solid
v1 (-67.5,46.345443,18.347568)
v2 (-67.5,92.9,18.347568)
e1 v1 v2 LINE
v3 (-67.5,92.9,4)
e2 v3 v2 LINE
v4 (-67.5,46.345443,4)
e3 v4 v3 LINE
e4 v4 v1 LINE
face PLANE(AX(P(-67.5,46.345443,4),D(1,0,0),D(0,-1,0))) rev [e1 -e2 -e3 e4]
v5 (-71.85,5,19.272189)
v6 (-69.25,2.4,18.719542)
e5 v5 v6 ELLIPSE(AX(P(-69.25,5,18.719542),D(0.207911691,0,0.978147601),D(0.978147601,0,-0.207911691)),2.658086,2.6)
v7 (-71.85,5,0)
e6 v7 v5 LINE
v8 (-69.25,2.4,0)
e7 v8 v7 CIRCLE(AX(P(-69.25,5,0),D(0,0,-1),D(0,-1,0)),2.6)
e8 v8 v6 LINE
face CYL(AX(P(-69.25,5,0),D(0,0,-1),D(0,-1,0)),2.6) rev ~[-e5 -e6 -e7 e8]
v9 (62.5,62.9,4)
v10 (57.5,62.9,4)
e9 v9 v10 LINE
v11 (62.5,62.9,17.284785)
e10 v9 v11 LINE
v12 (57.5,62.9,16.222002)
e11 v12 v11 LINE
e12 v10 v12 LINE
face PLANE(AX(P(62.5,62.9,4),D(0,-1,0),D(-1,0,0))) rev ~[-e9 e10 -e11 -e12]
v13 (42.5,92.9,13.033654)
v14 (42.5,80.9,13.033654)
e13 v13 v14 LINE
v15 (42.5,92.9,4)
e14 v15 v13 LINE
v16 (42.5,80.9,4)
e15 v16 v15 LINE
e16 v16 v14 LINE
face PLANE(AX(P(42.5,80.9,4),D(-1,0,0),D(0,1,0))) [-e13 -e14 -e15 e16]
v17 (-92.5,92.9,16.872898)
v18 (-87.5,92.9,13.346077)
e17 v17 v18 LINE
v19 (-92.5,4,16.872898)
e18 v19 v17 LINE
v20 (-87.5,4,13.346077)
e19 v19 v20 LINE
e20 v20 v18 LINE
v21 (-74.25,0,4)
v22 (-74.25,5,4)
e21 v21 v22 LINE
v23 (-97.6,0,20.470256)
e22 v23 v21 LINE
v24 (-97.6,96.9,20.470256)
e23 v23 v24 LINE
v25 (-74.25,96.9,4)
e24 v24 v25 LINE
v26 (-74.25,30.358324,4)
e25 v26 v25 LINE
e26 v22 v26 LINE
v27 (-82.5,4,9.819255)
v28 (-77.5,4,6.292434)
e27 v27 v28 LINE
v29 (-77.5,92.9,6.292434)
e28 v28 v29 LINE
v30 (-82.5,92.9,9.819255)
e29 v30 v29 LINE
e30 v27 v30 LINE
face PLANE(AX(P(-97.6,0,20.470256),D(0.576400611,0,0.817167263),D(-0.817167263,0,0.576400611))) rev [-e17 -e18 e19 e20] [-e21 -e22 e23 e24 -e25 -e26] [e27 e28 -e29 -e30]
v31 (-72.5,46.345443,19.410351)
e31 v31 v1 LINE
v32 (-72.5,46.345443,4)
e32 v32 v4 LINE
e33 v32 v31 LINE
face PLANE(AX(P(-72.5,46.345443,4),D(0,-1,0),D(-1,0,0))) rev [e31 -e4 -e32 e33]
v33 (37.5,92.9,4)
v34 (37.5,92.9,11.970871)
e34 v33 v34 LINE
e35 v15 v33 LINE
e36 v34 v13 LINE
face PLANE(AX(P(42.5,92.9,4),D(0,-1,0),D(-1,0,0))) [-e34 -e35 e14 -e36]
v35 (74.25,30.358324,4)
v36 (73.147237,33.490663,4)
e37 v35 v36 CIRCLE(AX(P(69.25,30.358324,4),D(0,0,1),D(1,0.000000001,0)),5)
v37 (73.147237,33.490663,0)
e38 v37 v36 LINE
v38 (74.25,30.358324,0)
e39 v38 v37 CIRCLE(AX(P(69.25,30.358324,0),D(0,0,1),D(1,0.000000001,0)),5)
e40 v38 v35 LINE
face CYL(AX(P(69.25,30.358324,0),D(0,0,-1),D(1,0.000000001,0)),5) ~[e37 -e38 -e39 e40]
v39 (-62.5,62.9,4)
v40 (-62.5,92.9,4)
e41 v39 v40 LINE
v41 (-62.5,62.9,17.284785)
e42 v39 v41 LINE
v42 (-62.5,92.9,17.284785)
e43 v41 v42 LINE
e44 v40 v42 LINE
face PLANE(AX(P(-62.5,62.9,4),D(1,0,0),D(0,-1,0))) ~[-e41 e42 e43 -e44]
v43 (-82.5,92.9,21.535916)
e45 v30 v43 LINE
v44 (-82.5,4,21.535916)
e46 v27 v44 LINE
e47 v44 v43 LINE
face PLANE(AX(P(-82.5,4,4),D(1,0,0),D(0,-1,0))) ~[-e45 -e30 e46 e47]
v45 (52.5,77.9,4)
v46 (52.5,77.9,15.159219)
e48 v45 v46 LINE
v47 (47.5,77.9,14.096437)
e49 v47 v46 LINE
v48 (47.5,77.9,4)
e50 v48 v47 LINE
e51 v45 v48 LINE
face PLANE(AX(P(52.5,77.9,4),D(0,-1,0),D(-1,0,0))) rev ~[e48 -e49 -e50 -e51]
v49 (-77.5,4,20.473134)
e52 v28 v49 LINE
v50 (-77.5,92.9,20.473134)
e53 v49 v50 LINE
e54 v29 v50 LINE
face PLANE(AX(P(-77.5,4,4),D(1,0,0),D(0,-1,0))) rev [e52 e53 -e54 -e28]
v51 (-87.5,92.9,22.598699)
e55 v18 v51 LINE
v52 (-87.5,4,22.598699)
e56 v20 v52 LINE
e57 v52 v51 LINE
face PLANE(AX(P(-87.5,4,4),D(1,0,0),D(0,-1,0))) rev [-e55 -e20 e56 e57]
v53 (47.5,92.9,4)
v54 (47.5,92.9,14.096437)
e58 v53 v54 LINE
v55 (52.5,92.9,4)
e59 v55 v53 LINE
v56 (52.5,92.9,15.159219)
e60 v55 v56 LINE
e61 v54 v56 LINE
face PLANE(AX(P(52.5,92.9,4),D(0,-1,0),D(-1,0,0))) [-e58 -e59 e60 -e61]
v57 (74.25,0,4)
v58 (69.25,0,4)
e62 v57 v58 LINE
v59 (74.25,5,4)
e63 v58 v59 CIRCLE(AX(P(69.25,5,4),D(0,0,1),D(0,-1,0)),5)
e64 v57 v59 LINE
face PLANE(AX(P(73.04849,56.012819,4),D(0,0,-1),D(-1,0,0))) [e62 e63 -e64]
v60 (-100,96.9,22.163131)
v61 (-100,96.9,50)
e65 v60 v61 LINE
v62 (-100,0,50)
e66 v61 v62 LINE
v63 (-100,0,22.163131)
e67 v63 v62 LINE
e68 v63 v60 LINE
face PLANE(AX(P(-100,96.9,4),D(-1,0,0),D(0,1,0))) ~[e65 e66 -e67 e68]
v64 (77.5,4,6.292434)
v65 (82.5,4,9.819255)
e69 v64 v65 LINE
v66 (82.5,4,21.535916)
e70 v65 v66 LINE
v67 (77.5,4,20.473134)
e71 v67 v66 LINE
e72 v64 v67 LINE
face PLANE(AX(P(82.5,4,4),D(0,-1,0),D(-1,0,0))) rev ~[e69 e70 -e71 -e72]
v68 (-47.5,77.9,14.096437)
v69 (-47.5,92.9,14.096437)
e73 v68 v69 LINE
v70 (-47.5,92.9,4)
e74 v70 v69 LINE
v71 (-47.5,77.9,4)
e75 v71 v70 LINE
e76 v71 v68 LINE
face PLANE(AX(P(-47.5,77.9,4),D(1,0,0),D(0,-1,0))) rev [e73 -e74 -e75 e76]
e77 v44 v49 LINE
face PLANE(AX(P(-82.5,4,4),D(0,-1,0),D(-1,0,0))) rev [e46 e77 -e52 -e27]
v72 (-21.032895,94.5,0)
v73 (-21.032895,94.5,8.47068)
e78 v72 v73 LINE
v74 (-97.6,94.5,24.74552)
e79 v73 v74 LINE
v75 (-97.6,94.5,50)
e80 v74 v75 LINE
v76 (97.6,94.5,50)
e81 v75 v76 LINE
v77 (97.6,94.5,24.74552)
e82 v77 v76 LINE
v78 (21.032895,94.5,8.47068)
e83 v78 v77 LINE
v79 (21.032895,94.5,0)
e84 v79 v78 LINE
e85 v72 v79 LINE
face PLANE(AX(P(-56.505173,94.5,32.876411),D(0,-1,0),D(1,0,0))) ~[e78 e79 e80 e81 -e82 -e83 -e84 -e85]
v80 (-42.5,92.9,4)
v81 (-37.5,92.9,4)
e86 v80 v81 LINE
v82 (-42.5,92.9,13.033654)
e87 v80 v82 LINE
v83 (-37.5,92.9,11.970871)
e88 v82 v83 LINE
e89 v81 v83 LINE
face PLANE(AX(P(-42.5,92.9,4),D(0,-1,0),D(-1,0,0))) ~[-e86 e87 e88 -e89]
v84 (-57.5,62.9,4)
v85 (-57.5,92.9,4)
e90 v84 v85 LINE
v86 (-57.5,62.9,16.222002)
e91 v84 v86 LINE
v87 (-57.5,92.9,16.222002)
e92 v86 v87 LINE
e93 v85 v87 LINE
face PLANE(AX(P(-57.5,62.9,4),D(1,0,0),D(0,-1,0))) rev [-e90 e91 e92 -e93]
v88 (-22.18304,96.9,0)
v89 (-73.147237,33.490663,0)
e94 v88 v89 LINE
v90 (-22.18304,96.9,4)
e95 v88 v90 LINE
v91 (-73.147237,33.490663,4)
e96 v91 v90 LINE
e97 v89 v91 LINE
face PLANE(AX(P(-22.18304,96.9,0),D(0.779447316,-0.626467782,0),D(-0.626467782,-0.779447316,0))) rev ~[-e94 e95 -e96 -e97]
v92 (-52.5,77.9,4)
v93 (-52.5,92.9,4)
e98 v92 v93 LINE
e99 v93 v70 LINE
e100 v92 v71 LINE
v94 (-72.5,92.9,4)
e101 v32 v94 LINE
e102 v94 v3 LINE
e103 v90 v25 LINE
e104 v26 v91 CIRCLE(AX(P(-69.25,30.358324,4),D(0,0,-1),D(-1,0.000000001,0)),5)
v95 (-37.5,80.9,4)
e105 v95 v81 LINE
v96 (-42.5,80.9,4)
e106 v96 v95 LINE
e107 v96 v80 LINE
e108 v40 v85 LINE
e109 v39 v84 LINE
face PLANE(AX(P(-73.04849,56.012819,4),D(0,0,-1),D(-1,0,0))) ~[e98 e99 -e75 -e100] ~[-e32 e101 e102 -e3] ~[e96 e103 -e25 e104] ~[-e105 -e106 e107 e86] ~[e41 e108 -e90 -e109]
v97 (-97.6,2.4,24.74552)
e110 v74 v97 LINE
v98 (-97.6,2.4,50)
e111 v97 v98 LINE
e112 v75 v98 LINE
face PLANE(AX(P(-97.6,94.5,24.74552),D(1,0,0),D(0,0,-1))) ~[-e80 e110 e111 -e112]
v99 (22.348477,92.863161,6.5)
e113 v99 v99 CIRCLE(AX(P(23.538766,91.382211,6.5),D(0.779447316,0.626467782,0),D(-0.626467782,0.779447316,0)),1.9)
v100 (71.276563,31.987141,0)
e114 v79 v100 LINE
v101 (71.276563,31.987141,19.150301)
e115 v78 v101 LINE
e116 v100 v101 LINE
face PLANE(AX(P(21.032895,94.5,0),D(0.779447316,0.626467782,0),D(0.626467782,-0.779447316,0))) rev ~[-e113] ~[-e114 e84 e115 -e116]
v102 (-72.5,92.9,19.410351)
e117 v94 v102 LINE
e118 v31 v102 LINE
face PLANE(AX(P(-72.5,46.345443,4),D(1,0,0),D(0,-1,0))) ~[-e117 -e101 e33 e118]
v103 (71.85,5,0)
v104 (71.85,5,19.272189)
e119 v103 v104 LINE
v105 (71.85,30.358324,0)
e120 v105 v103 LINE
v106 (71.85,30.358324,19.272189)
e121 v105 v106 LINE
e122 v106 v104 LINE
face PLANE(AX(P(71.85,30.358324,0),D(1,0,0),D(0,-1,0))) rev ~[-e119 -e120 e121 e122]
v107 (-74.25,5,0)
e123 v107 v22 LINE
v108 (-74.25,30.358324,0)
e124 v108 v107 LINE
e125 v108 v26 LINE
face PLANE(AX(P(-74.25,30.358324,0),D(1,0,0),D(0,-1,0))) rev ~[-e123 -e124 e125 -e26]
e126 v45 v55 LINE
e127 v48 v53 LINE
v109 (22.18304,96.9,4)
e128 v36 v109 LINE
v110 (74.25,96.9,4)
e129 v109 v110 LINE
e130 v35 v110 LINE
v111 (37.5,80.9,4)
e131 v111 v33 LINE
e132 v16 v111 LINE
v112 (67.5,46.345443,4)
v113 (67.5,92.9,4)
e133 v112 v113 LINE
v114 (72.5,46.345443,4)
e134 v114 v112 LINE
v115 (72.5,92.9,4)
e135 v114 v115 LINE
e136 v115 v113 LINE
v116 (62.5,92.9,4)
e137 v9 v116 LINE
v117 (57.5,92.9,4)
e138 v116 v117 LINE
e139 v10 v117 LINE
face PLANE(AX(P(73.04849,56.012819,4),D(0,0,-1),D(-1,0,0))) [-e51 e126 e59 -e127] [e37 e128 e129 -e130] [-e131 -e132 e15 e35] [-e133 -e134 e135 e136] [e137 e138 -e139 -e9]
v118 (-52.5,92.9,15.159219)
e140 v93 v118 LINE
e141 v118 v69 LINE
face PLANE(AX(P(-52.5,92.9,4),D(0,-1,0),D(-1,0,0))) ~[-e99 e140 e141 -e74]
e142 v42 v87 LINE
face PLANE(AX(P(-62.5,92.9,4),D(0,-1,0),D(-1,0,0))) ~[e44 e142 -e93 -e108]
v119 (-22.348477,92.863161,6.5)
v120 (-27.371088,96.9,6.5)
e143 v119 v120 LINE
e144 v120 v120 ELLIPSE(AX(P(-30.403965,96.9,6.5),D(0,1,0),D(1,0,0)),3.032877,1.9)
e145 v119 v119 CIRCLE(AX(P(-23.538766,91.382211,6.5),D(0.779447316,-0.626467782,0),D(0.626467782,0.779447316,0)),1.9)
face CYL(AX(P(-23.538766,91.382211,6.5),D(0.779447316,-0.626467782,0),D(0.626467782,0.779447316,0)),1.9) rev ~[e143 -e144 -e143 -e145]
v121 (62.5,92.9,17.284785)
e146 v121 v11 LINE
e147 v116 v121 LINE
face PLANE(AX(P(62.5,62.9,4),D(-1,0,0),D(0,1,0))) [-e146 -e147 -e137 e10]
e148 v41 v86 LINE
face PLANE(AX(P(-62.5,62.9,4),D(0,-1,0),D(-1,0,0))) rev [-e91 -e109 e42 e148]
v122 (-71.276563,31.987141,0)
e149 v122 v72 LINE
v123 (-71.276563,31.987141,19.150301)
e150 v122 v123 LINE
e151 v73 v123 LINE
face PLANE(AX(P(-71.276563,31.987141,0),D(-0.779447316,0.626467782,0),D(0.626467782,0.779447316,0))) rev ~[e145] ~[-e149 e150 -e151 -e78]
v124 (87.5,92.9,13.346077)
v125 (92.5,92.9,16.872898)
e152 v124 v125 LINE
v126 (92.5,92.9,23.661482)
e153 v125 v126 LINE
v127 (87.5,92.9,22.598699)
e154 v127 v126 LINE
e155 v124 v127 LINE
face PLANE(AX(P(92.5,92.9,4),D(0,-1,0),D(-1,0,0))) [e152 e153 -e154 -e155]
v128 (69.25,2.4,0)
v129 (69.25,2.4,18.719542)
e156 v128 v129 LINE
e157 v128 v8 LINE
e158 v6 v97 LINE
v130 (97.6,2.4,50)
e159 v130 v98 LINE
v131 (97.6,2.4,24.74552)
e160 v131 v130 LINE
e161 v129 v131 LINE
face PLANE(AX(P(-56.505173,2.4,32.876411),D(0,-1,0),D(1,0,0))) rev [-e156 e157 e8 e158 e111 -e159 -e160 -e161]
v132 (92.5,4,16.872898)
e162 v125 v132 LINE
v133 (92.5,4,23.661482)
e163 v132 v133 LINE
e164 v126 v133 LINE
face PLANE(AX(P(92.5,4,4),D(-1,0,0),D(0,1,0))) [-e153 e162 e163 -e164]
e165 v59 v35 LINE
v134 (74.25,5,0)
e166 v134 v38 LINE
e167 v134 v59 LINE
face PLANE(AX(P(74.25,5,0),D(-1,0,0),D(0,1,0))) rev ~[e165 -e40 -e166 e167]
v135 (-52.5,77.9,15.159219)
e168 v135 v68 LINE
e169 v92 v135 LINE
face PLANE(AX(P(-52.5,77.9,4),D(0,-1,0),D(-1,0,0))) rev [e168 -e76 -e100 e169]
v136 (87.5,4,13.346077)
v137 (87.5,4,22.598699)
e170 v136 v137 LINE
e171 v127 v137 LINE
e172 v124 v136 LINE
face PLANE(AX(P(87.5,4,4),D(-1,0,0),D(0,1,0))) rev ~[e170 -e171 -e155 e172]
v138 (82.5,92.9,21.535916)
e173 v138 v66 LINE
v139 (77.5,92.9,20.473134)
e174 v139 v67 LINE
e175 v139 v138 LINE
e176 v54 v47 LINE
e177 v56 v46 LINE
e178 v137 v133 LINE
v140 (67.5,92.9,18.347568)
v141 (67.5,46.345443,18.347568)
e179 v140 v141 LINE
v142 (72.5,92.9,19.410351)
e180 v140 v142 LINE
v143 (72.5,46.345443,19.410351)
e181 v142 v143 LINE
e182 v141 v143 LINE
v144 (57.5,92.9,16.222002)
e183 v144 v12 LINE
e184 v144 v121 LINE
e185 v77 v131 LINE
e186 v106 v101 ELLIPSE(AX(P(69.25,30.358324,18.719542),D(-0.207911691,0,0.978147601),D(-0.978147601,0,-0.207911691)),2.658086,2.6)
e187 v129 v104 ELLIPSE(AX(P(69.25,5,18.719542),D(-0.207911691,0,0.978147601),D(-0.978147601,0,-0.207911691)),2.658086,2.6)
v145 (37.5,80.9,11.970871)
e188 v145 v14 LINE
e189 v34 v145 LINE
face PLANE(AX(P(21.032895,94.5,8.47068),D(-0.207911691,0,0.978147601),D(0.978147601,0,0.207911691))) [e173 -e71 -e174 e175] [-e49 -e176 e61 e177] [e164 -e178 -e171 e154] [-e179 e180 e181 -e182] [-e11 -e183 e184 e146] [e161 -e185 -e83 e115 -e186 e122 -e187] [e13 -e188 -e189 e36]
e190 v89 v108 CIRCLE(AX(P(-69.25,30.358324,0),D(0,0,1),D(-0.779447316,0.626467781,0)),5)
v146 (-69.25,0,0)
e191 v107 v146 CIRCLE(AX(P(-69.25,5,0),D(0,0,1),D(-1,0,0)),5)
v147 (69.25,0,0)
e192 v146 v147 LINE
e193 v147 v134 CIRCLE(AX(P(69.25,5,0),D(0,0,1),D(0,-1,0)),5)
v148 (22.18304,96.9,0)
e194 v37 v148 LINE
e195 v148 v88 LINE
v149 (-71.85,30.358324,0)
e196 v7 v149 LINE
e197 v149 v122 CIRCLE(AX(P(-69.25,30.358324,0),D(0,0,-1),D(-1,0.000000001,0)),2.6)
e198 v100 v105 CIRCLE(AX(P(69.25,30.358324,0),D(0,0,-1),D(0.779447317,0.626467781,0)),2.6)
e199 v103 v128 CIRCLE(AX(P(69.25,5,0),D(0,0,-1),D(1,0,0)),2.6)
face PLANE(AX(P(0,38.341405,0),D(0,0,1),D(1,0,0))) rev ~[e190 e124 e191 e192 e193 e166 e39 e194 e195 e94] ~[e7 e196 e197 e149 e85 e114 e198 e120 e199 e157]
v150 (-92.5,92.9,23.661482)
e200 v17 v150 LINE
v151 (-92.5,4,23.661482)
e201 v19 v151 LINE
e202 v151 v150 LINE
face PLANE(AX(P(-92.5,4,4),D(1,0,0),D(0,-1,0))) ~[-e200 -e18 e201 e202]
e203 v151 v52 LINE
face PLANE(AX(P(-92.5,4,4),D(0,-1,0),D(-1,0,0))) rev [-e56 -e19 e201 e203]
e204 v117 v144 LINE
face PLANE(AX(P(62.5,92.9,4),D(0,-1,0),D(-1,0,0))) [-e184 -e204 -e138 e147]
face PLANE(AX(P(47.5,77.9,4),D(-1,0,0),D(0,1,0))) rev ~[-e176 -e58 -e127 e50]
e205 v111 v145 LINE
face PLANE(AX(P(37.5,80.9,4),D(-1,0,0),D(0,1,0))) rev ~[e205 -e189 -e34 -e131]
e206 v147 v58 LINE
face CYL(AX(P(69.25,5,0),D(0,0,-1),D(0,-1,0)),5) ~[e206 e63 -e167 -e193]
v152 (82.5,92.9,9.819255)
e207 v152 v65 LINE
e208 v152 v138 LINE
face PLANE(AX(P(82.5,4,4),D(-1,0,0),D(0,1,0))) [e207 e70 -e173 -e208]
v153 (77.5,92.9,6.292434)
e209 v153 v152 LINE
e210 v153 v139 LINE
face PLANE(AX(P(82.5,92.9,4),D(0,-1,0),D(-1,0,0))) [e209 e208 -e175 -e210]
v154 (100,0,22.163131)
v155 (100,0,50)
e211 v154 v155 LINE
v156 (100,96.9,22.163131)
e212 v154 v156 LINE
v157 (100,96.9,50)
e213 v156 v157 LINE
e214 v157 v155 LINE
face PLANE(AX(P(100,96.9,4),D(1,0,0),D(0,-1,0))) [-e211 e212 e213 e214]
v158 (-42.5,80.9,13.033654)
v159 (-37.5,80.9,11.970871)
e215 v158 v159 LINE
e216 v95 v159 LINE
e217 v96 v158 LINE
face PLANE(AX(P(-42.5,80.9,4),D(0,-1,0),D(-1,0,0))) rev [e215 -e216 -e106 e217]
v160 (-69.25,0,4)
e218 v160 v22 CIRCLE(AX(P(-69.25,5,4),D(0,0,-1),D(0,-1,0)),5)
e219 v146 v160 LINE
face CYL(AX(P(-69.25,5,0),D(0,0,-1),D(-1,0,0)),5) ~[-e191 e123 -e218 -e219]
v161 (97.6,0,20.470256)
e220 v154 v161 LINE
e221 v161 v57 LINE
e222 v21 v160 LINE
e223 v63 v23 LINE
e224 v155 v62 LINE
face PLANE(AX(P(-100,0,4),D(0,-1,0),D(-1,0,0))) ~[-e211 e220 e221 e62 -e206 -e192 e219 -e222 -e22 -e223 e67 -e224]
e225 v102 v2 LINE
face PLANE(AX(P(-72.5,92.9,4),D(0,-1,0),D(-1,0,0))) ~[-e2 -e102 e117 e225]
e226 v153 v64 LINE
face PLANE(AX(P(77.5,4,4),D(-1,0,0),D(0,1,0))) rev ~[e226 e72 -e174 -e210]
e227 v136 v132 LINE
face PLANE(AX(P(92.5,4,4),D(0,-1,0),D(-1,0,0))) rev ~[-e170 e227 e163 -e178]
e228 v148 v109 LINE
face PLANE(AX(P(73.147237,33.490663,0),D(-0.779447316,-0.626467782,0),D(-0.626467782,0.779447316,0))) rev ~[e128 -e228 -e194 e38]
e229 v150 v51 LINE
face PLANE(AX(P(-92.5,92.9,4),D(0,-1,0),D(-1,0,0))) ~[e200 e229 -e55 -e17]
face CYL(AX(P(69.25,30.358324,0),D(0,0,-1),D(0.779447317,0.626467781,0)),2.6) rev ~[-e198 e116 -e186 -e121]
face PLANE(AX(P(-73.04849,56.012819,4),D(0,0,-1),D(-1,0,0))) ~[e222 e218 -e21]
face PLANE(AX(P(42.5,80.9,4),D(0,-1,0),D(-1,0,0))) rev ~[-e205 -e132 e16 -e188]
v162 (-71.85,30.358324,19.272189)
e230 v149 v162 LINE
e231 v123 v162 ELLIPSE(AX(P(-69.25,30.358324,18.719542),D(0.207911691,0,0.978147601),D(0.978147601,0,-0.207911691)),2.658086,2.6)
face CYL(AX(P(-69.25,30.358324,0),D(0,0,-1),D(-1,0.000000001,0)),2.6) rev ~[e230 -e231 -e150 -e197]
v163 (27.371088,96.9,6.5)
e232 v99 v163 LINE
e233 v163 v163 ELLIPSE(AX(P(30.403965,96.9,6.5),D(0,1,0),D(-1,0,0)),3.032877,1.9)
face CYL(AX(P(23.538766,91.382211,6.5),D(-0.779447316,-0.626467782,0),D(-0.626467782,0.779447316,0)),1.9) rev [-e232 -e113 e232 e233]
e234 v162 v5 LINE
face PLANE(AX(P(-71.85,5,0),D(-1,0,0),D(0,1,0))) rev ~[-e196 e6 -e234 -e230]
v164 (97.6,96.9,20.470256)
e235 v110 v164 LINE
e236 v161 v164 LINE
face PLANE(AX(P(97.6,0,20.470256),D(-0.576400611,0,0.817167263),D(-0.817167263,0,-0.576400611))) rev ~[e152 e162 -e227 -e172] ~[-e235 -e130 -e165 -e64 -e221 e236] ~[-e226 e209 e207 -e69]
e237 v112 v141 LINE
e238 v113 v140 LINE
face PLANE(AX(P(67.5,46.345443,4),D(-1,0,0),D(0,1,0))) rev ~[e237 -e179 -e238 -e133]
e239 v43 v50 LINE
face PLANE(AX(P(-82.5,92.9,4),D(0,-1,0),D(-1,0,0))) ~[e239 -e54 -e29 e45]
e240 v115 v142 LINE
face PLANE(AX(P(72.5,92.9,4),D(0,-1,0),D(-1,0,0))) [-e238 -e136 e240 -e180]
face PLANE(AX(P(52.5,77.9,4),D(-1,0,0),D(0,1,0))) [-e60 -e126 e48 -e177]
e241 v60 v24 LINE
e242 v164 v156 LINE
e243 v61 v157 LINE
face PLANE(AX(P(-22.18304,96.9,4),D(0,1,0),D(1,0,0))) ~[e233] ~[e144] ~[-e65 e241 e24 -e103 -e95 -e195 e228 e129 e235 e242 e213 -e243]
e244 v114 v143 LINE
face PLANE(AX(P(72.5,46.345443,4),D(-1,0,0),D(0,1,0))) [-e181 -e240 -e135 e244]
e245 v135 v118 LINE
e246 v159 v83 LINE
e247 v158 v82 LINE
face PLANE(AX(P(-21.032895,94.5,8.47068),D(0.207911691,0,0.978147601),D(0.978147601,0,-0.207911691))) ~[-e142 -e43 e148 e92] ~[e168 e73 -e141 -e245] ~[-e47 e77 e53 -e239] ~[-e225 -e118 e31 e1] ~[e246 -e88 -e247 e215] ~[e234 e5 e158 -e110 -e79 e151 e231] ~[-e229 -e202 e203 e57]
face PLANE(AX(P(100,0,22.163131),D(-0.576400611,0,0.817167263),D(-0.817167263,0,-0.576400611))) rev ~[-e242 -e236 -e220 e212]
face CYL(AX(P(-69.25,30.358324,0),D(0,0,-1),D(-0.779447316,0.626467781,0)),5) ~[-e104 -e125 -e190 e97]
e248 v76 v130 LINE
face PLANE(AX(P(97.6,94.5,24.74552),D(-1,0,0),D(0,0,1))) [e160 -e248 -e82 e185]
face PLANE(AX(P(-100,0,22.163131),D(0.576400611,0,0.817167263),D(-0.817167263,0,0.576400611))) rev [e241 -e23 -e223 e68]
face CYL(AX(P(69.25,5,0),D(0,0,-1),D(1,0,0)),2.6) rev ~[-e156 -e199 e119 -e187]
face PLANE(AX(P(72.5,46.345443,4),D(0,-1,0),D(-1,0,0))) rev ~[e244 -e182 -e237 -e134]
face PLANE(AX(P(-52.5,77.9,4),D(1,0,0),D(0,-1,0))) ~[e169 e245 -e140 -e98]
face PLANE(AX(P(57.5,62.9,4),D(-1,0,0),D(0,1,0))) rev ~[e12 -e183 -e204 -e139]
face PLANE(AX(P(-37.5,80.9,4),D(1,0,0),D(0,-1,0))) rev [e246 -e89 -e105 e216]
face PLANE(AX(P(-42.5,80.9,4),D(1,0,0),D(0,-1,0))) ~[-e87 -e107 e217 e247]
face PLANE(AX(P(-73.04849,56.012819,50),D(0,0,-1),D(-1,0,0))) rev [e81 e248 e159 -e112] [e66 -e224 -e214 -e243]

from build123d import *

# Parameters (mm, degrees)
EXTRUDE_1_DEPTH      = 50
EXTRUDE_START        = -4
EXTRUDE_2_DEPTH      = 46
CUT_EXTRUDE_1_DEPTH  = 92.1
CUT_EXTRUDE_START    = 94.5
CUT_EXTRUDE_2_DEPTH  = 241.890744243
SKETCH_17_W          = 5
SKETCH_17_H          = 88.9
SKETCH_17_H_2        = 46.554557274
SKETCH_17_H_3        = 30
SKETCH_17_H_4        = 15
SKETCH_17_H_5        = 12
CUT_EXTRUDE_5_DEPTH  = 30
SKETCH_37_R          = 1.9
CUT_EXTRUDE_13_DEPTH = 174.81246936


with BuildPart() as part:
    # 草图1 → 凸台-拉伸1 (new body)
    with BuildSketch(Plane.XY):
        with BuildLine():
            Line((-22.183039724, 96.9), (-73.14723658, 33.490663373))
            ThreePointArc((-73.14723658, 33.490663373), (-73.966258204, 32.018718559), (-74.25, 30.358324465))
            Line((-74.25, 30.358324465), (-74.25, 5))
            ThreePointArc((-74.25, 5), (-72.785533906, 1.464466094), (-69.25, 0))
            Line((-69.25, 0), (69.25, 0))
            ThreePointArc((69.25, 0), (72.785533906, 1.464466094), (74.25, 5))
            Line((74.25, 5), (74.25, 30.358324465))
            ThreePointArc((74.25, 30.358324465), (73.966258204, 32.018718559), (73.14723658, 33.490663373))
            Line((73.14723658, 33.490663373), (22.183039724, 96.9))
            Line((22.183039724, 96.9), (-22.183039724, 96.9))
        make_face()
        with BuildLine():
            ThreePointArc((-69.25, 2.4), (-71.088477631, 3.161522369), (-71.85, 5))
            Line((-71.85, 5), (-71.85, 30.358324465))
            ThreePointArc((-71.85, 30.358324465), (-71.702454266, 31.221729394), (-71.276563022, 31.987140697))
            Line((-71.276563022, 31.987140697), (-21.032894864, 94.5))
            Line((-21.032894864, 94.5), (21.032894864, 94.5))
            Line((21.032894864, 94.5), (71.276563022, 31.987140697))
            ThreePointArc((71.276563022, 31.987140697), (71.702454266, 31.221729394), (71.85, 30.358324465))
            Line((71.85, 30.358324465), (71.85, 5))
            ThreePointArc((71.85, 5), (71.088477631, 3.161522369), (69.25, 2.4))
            Line((69.25, 2.4), (-69.25, 2.4))
        make_face(mode=Mode.SUBTRACT)
    extrude(amount=EXTRUDE_1_DEPTH)

    # 草图2 → Extrude 2 (add)
    with BuildSketch(Plane(origin=(0, 0, 0), x_dir=(-1, 0, 0), z_dir=(0, 0, -1)).offset(EXTRUDE_START)):
        with BuildLine():
            Line((-100, 96.9), (-100, 0))
            Line((-100, 0), (-69.25, 0))
            ThreePointArc((-69.25, 0), (-72.785533906, 1.464466094), (-74.25, 5))
            Line((-74.25, 5), (-74.25, 30.358324465))
            ThreePointArc((-74.25, 30.358324465), (-73.966258204, 32.018718559), (-73.14723658, 33.490663373))
            Line((-73.14723658, 33.490663373), (-22.183039724, 96.9))
            Line((-22.183039724, 96.9), (-100, 96.9))
        make_face()
    extrude_2 = extrude(amount=-EXTRUDE_2_DEPTH)

    # 草图4 → Cut-Extrude 1 (cut)
    with BuildSketch(Plane.XZ.offset(-94.5)):
        Polygon((21.032894864, 50), (21.032894864, 8.470679814), (97.6, 24.745520419), (97.6, 50), align=None)
    cut_extrude_1 = extrude(amount=CUT_EXTRUDE_1_DEPTH, mode=Mode.SUBTRACT)

    # 草图4<4> → 切除-拉伸2 (cut, through all)
    with BuildSketch(Plane.XZ.offset(-94.5).offset(CUT_EXTRUDE_START)):
        Polygon((97.6, 4), (97.6, 20.470256304), (74.25, 4), align=None)
        Polygon((100, 22.163130613), (97.6, 20.470256304), (97.6, 4), (100, 4), align=None)
    cut_extrude_2 = extrude(amount=-CUT_EXTRUDE_2_DEPTH, mode=Mode.SUBTRACT)

    # 镜向1: Extrude 2, Cut-Extrude 1, 切除-拉伸2 across plane
    add(extrude_2.mirror(Plane(origin=(0, 0, 0), x_dir=(0, 0, 1), z_dir=(1, 0, 0))))
    add(cut_extrude_1.mirror(Plane(origin=(0, 0, 0), x_dir=(0, 0, 1), z_dir=(1, 0, 0))), mode=Mode.SUBTRACT)
    add(cut_extrude_2.mirror(Plane(origin=(0, 0, 0), x_dir=(0, 0, 1), z_dir=(1, 0, 0))), mode=Mode.SUBTRACT)

    # 草图17 → Cut-Extrude 5 (cut)
    with BuildSketch(Plane(origin=(0, 0, 4), x_dir=(-1, 0, 0), z_dir=(0, 0, -1))):
        with Locations((-90, 48.45)):
            Rectangle(SKETCH_17_W, SKETCH_17_H)
        with Locations((-80, 48.45)):
            Rectangle(SKETCH_17_W, SKETCH_17_H)
        with Locations((-70, 69.622721363)):
            Rectangle(SKETCH_17_W, SKETCH_17_H_2)
        with Locations((-60, 77.9)):
            Rectangle(SKETCH_17_W, SKETCH_17_H_3)
        with Locations((-50, 85.4)):
            Rectangle(SKETCH_17_W, SKETCH_17_H_4)
        with Locations((-40, 86.9)):
            Rectangle(SKETCH_17_W, SKETCH_17_H_5)
    cut_extrude_5 = extrude(amount=-CUT_EXTRUDE_5_DEPTH, mode=Mode.SUBTRACT)

    # 镜向2: Cut-Extrude 5 across plane
    add(cut_extrude_5.mirror(Plane(origin=(0, 0, 0), x_dir=(0, 0, 1), z_dir=(1, 0, 0))), mode=Mode.SUBTRACT)

    # 草图37 → 切除-拉伸13 (cut, through all)
    with BuildSketch(Plane(origin=(-58.922506005, 47.35798157, 0), x_dir=(0, 0, -1), z_dir=(0.7794473160570582, -0.6264677816866949, 0))):
        with Locations(Location((-6.5, 56.48134038, 0), (0, 0, 90))):
            Circle(SKETCH_37_R)
    cut_extrude_13 = extrude(amount=-CUT_EXTRUDE_13_DEPTH, mode=Mode.SUBTRACT)

    # 镜向4: 切除-拉伸13 across plane
    add(cut_extrude_13.mirror(Plane(origin=(0, 0, 0), x_dir=(0, 0, 1), z_dir=(1, 0, 0))), mode=Mode.SUBTRACT)


solid = part.part
